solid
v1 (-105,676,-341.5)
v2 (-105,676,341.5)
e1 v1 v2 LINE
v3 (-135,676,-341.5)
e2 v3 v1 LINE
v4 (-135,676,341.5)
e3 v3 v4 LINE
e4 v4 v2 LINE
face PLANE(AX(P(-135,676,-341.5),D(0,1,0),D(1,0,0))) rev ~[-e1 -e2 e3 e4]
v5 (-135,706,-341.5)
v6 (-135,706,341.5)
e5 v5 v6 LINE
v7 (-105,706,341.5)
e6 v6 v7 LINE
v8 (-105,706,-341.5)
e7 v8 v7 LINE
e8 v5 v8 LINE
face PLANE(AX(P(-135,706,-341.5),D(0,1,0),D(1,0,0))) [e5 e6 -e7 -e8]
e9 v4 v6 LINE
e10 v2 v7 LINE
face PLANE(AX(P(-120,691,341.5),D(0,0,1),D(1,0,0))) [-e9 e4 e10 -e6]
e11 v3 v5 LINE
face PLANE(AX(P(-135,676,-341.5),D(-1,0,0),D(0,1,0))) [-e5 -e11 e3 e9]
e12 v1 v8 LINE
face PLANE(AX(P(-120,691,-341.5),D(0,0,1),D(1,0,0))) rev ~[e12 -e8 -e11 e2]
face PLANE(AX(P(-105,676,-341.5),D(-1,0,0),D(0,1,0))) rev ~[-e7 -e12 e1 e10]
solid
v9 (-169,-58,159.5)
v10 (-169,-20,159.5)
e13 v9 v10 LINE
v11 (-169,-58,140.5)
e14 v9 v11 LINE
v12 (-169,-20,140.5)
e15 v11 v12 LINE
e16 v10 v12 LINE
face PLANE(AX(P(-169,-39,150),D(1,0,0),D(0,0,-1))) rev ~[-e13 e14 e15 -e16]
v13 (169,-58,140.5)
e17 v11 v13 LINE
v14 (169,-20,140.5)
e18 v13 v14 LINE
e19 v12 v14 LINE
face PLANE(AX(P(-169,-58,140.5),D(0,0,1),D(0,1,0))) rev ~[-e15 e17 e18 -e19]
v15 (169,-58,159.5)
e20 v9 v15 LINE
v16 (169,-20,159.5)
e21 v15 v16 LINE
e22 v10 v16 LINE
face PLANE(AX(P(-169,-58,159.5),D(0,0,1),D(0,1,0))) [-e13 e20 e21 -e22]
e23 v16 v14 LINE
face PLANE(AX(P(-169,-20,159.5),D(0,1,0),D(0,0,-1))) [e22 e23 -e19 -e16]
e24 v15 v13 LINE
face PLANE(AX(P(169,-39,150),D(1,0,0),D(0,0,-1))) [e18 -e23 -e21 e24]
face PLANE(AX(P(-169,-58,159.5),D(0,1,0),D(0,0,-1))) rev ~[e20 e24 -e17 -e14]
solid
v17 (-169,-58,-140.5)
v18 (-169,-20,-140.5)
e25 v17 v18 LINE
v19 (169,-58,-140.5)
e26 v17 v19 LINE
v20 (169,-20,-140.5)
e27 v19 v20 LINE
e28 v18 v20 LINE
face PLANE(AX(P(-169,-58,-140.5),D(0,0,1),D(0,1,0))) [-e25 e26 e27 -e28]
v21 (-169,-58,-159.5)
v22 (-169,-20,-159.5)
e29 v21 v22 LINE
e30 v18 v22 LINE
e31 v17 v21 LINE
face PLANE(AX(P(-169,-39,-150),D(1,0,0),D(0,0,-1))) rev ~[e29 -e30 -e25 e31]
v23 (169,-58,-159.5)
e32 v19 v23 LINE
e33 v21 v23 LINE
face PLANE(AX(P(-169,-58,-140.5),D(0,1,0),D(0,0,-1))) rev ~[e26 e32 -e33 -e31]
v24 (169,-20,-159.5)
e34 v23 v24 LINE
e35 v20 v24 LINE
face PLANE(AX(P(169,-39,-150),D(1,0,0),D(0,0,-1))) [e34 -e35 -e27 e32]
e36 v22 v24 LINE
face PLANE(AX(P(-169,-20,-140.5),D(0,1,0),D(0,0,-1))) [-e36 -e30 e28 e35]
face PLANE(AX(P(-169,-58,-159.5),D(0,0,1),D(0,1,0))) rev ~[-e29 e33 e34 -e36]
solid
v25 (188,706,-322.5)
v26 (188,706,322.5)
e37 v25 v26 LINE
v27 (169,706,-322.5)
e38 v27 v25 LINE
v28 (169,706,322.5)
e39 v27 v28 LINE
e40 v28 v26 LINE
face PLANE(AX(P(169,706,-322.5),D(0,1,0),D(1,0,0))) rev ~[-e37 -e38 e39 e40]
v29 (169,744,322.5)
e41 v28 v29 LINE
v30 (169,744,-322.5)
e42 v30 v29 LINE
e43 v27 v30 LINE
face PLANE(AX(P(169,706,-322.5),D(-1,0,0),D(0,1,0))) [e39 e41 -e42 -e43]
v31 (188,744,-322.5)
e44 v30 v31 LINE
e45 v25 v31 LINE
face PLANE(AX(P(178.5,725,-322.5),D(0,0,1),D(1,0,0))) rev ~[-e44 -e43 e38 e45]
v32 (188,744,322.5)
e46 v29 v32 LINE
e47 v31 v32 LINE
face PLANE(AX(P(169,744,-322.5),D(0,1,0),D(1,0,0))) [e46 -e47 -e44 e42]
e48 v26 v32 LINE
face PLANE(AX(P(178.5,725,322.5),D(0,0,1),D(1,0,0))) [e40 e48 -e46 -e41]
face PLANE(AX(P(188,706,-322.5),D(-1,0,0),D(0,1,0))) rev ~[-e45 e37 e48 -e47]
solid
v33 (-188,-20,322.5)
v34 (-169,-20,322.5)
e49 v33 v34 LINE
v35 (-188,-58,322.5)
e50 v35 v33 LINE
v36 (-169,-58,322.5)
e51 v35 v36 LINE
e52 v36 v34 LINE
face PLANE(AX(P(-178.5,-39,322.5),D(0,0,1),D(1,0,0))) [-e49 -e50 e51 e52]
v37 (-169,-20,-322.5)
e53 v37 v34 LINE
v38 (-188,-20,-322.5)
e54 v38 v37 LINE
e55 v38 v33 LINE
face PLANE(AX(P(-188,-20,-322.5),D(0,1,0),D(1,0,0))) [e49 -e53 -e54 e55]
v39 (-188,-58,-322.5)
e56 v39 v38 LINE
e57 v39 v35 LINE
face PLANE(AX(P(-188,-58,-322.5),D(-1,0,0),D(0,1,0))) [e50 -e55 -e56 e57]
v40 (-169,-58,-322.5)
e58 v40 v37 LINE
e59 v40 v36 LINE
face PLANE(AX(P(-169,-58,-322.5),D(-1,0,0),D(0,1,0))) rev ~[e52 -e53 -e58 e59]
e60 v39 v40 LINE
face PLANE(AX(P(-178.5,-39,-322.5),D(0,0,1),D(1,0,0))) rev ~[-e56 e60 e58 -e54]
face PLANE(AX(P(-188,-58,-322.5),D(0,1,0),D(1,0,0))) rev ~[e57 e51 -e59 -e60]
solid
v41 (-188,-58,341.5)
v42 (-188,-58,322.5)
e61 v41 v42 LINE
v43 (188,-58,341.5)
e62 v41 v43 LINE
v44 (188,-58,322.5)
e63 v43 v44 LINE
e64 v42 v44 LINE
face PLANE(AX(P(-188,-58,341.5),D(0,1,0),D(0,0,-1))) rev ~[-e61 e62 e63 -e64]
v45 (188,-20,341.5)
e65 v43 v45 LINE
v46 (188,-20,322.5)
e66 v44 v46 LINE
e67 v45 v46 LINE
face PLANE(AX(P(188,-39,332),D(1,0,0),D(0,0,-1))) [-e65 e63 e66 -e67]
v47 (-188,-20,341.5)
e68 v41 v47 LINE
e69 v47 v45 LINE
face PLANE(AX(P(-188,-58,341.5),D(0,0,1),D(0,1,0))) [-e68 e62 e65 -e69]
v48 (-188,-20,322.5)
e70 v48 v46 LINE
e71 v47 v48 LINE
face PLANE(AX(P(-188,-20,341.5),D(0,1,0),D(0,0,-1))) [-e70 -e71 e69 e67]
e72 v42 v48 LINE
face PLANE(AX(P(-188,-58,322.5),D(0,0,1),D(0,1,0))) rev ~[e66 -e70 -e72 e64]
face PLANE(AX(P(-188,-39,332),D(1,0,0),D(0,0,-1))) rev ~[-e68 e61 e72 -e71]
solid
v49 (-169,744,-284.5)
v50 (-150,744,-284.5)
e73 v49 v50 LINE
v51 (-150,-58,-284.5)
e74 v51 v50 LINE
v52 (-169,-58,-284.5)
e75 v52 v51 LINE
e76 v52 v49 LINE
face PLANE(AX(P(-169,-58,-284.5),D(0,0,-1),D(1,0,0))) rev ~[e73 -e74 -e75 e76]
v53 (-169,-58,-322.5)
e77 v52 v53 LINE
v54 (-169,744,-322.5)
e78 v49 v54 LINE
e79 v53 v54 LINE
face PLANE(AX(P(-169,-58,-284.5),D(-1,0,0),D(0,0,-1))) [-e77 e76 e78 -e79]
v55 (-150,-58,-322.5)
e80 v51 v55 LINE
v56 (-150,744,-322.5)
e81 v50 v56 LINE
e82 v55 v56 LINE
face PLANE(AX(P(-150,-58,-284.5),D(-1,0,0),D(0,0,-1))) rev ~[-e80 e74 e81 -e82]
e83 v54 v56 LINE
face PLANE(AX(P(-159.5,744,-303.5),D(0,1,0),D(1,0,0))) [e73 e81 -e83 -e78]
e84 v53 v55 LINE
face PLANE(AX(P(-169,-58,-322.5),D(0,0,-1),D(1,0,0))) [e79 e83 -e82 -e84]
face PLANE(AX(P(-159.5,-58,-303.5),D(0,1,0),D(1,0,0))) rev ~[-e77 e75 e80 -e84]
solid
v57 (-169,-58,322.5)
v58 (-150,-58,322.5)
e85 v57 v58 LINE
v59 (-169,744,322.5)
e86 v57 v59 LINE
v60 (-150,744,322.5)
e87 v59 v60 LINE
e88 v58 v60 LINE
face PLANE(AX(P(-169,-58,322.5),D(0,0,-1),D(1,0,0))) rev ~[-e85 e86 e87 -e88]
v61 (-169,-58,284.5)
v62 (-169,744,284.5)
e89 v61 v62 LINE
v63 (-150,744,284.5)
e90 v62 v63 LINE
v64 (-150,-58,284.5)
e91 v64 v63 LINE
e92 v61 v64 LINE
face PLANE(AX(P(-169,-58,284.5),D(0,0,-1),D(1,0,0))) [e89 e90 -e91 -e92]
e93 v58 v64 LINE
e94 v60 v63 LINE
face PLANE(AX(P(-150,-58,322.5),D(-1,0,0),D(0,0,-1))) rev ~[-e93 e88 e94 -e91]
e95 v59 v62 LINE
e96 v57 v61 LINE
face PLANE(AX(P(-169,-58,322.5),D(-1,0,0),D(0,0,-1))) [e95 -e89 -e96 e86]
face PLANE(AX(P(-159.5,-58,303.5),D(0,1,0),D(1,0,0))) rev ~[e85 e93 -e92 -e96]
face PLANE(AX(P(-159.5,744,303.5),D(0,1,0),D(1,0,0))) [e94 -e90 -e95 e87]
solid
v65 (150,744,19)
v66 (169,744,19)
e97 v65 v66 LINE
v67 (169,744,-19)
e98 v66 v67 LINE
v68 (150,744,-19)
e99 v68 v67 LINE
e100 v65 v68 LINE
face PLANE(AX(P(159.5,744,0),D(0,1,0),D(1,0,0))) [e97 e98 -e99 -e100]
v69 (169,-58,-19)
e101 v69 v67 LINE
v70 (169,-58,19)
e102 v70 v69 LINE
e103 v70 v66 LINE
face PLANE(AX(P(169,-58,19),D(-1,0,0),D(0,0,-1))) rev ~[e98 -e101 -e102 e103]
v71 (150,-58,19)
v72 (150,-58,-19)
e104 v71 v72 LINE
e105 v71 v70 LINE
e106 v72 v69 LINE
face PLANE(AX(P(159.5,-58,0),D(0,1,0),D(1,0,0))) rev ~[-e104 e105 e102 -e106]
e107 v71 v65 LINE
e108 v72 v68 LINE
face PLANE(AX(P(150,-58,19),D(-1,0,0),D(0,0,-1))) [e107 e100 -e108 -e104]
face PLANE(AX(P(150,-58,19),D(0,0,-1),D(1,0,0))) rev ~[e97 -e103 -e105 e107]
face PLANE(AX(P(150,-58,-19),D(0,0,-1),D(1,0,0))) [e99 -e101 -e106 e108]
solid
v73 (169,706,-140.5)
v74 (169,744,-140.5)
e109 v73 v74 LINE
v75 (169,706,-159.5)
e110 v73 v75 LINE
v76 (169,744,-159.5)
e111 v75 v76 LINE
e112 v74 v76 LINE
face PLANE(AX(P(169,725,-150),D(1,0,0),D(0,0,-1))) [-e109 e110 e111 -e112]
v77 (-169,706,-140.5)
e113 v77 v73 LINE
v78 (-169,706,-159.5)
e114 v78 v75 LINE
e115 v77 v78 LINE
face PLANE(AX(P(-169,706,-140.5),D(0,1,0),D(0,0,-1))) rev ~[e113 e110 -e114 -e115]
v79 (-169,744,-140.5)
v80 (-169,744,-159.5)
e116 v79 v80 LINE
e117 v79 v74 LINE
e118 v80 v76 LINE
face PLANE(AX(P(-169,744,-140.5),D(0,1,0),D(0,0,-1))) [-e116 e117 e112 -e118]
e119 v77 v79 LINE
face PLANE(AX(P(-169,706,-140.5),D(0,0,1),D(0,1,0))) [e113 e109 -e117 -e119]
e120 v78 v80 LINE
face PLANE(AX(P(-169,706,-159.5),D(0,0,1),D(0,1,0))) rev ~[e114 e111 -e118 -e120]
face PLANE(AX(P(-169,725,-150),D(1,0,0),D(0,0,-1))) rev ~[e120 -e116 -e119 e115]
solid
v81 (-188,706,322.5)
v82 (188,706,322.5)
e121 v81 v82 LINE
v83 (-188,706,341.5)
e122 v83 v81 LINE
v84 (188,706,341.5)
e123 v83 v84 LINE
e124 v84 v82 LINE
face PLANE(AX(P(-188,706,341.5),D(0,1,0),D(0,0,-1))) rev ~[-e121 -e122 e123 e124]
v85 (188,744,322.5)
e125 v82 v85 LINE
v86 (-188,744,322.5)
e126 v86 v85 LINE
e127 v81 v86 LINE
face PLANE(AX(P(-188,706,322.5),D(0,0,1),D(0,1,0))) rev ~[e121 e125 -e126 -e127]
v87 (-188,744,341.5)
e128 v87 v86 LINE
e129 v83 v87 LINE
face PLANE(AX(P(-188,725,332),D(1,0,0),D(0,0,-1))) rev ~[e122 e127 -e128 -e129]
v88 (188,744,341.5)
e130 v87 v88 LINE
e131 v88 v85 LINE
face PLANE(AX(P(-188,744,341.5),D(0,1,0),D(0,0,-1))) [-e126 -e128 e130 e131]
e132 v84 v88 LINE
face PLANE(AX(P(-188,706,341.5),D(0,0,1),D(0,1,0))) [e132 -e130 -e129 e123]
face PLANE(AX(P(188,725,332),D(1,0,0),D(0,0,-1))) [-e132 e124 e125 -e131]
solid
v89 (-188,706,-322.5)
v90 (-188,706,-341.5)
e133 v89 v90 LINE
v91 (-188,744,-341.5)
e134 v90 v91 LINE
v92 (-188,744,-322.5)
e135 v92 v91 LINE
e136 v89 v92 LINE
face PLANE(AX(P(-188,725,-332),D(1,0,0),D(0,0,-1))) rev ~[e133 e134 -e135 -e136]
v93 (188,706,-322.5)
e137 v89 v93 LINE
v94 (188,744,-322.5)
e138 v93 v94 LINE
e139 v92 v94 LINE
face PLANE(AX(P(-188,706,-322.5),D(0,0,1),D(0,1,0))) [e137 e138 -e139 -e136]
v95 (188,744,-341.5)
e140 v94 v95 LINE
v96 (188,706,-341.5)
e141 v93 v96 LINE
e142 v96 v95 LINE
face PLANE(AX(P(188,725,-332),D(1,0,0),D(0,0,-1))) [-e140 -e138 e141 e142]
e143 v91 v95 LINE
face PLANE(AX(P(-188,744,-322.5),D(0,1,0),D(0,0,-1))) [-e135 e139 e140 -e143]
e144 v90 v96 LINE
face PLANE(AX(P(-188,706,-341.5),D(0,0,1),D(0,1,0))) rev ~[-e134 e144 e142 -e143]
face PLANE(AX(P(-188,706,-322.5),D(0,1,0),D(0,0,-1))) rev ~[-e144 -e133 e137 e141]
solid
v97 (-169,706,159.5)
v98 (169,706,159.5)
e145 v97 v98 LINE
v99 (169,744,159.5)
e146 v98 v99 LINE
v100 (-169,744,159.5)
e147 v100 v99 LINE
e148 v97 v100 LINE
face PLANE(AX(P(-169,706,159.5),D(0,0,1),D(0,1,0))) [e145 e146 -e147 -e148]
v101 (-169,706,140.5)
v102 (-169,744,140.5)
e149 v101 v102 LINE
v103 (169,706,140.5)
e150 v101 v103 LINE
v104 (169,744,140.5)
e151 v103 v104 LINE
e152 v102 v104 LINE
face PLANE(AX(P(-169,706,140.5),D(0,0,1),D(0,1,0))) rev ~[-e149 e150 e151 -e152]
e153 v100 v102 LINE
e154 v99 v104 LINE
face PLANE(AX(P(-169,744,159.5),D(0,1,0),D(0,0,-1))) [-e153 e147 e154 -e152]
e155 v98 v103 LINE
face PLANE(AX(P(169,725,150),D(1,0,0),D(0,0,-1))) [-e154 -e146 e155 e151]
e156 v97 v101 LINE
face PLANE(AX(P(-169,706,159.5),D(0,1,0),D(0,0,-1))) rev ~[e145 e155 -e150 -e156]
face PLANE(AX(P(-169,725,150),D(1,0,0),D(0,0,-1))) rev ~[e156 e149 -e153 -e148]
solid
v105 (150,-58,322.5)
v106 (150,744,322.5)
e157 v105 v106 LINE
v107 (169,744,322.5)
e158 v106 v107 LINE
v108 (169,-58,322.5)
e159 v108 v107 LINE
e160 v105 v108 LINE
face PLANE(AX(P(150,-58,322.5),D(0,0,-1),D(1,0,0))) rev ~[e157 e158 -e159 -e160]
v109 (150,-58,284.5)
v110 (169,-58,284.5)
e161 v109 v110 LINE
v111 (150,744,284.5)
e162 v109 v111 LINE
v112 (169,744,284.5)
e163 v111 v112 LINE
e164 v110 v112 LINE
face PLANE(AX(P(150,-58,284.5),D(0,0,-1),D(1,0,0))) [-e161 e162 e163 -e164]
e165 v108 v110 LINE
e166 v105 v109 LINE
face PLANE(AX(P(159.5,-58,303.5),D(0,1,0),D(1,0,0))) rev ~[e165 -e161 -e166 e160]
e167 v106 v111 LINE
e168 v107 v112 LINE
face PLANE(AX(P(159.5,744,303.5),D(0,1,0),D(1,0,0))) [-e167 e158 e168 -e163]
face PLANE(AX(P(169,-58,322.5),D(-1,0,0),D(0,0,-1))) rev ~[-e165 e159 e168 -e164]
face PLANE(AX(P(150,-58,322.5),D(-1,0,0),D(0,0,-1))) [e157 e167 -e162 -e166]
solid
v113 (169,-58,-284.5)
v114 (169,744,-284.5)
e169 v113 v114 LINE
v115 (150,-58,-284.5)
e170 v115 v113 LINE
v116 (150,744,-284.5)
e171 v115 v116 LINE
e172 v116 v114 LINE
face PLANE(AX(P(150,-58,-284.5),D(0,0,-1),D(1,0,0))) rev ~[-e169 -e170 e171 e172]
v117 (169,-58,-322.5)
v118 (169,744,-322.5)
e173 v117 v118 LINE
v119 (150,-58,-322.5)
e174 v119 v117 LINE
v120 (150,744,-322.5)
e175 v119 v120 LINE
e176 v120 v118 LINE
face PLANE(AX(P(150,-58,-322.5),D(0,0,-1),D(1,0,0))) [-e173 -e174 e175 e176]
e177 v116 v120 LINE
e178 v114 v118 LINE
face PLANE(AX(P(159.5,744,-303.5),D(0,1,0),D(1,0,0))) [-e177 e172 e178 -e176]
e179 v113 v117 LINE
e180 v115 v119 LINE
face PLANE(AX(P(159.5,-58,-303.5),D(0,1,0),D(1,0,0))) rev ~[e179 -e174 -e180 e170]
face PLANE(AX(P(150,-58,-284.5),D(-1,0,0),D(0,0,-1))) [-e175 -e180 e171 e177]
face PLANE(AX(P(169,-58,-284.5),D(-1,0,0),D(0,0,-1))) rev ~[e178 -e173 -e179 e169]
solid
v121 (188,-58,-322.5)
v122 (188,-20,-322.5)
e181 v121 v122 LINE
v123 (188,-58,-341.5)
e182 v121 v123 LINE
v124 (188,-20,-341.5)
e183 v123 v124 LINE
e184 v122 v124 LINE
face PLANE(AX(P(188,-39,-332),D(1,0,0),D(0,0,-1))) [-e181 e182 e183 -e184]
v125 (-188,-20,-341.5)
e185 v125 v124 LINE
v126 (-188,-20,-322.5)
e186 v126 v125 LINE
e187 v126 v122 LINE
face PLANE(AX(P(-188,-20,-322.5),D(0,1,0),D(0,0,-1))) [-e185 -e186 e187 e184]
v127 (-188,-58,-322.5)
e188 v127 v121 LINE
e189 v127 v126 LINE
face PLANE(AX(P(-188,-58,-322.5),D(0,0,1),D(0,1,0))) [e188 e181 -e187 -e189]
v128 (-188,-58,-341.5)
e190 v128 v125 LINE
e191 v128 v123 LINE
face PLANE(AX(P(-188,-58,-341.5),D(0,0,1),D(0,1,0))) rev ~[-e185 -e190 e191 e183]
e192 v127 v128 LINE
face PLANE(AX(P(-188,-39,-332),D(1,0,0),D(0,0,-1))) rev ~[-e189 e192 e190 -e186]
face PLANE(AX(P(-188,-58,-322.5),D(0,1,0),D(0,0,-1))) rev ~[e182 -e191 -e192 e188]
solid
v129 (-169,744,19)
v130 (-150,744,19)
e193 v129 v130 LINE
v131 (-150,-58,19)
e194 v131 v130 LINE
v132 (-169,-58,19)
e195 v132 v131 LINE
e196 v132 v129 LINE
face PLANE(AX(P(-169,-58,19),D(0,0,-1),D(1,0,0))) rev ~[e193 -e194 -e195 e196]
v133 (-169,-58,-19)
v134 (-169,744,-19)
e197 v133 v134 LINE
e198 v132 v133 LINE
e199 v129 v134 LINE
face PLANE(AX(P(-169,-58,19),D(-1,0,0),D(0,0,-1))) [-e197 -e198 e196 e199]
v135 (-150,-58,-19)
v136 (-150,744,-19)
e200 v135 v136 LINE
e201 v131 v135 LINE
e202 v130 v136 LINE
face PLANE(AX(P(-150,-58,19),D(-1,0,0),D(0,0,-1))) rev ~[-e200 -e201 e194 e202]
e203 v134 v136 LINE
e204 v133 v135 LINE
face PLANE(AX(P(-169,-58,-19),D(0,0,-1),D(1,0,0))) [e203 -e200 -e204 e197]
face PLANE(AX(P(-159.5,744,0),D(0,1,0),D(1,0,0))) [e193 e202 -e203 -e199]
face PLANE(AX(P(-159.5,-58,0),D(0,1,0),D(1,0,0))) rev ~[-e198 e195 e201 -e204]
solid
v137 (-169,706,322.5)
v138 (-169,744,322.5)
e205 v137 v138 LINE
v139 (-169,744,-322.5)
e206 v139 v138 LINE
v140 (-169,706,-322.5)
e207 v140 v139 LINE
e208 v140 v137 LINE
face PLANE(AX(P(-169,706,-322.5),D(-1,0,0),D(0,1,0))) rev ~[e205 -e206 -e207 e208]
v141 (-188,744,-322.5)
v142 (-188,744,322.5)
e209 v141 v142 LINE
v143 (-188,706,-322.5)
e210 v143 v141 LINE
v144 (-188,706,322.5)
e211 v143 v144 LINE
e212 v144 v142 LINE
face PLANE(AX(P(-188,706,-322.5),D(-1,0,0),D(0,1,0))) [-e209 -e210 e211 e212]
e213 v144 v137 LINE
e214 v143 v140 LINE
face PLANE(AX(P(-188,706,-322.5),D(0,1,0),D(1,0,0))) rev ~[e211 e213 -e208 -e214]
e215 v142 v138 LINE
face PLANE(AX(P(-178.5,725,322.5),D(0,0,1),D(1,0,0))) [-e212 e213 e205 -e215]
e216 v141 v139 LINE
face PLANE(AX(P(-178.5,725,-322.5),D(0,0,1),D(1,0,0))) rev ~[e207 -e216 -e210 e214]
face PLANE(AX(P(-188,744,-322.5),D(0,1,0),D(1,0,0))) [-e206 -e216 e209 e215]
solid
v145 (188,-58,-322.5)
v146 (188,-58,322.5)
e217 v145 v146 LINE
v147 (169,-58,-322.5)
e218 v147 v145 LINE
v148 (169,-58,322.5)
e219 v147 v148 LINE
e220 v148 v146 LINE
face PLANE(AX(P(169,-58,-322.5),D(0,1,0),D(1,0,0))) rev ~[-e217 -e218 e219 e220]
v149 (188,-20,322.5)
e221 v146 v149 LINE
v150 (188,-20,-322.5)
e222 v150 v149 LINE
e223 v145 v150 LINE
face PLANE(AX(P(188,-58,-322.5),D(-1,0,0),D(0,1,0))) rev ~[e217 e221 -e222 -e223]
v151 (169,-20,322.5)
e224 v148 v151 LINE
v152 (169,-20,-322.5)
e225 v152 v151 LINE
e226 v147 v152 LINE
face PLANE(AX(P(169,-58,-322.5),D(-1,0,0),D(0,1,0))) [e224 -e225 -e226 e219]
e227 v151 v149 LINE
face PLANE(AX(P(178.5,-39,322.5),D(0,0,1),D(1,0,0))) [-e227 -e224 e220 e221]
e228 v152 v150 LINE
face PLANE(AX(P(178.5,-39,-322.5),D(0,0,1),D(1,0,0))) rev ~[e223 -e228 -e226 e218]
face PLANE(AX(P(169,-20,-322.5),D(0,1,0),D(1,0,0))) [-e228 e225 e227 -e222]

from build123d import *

# Parameters (mm, degrees)
EXTRUDE_1_DEPTH        = 322.5
EXTRUDE_1_DEPTH_BACK   = 322.5
SKETCH_6_W             = 19
SKETCH_6_H             = 38
EXTRUDE_1_2_DEPTH      = 322.5
EXTRUDE_1_2_DEPTH_BACK = 322.5
EXTRUDE_1_3_DEPTH      = 322.5
EXTRUDE_1_3_DEPTH_BACK = 322.5
EXTRUDE_1_4_DEPTH      = 322.5
EXTRUDE_1_4_DEPTH_BACK = 322.5
EXTRUDE_2_DEPTH        = 188
EXTRUDE_2_DEPTH_BACK   = 188
SKETCH_8_W             = 19
SKETCH_8_H             = 38
EXTRUDE_2_2_DEPTH      = 188
EXTRUDE_2_2_DEPTH_BACK = 188
EXTRUDE_2_3_DEPTH      = 188
EXTRUDE_2_3_DEPTH_BACK = 188
EXTRUDE_2_4_DEPTH      = 188
EXTRUDE_2_4_DEPTH_BACK = 188
EXTRUDE_START          = -58
SKETCH_9_W             = 19
SKETCH_9_H             = 38
EXTRUDE_2009_DEPTH     = 802
EXTRUDE_2009_2_DEPTH   = 802
EXTRUDE_2009_3_DEPTH   = 802
EXTRUDE_2009_4_DEPTH   = 802
EXTRUDE_2009_5_DEPTH   = 802
EXTRUDE_2009_6_DEPTH   = 802
EXTRUDE_START_2        = -341.5
SKETCH_10_W            = 30
SKETCH_10_H            = 30
EXTRUDE_4_DEPTH        = 683
EXTRUDE_5_DEPTH        = 169
EXTRUDE_5_DEPTH_BACK   = 169
SKETCH_11_W            = 19
SKETCH_11_H            = 38
EXTRUDE_5_2_DEPTH      = 169
EXTRUDE_5_2_DEPTH_BACK = 169
EXTRUDE_5_3_DEPTH      = 169
EXTRUDE_5_3_DEPTH_BACK = 169
EXTRUDE_5_4_DEPTH      = 169
EXTRUDE_5_4_DEPTH_BACK = 169


with BuildPart() as part:
    # ｽｹｯﾁ6 → ﾎﾞｽ - 押し出し1 (new, two sides: drawn at the far end of the back side and taken through both)
    with BuildSketch(Plane.XY.offset(-EXTRUDE_1_DEPTH_BACK)):
        with Locations((-178.5, -39)):
            Rectangle(SKETCH_6_W, SKETCH_6_H)
    extrude(amount=EXTRUDE_1_DEPTH + EXTRUDE_1_DEPTH_BACK)


with BuildPart() as body_2:
    # ｽｹｯﾁ6 → Extrude 1 2 (new, two sides: drawn at the far end of the back side and taken through both)
    with BuildSketch(Plane.XY.offset(-EXTRUDE_1_2_DEPTH_BACK)):
        with Locations((178.5, -39)):
            Rectangle(SKETCH_6_W, SKETCH_6_H)
    extrude(amount=EXTRUDE_1_2_DEPTH + EXTRUDE_1_2_DEPTH_BACK)


with BuildPart() as body_3:
    # ｽｹｯﾁ6 → Extrude 1 3 (new, two sides: drawn at the far end of the back side and taken through both)
    with BuildSketch(Plane.XY.offset(-EXTRUDE_1_3_DEPTH_BACK)):
        with Locations((178.5, 725)):
            Rectangle(SKETCH_6_W, SKETCH_6_H)
    extrude(amount=EXTRUDE_1_3_DEPTH + EXTRUDE_1_3_DEPTH_BACK)


with BuildPart() as body_4:
    # ｽｹｯﾁ6 → Extrude 1 4 (new, two sides: drawn at the far end of the back side and taken through both)
    with BuildSketch(Plane.XY.offset(-EXTRUDE_1_4_DEPTH_BACK)):
        with Locations((-178.5, 725)):
            Rectangle(SKETCH_6_W, SKETCH_6_H)
    extrude(amount=EXTRUDE_1_4_DEPTH + EXTRUDE_1_4_DEPTH_BACK)


with BuildPart() as body_5:
    # ｽｹｯﾁ8 → ﾎﾞｽ - 押し出し2 (new, two sides: drawn at the far end of the back side and taken through both)
    with BuildSketch(Plane(origin=(0, 0, 0), x_dir=(0, 0, -1), z_dir=(1, 0, 0)).offset(-EXTRUDE_2_DEPTH_BACK)):
        with Locations((-332, -39)):
            Rectangle(SKETCH_8_W, SKETCH_8_H)
    extrude(amount=EXTRUDE_2_DEPTH + EXTRUDE_2_DEPTH_BACK)


with BuildPart() as body_6:
    # ｽｹｯﾁ8 → Extrude 2 2 (new, two sides: drawn at the far end of the back side and taken through both)
    with BuildSketch(Plane(origin=(0, 0, 0), x_dir=(0, 0, -1), z_dir=(1, 0, 0)).offset(-EXTRUDE_2_2_DEPTH_BACK)):
        with Locations((-332, 725)):
            Rectangle(SKETCH_8_W, SKETCH_8_H)
    extrude(amount=EXTRUDE_2_2_DEPTH + EXTRUDE_2_2_DEPTH_BACK)


with BuildPart() as body_7:
    # ｽｹｯﾁ8 → Extrude 2 3 (new, two sides: drawn at the far end of the back side and taken through both)
    with BuildSketch(Plane(origin=(0, 0, 0), x_dir=(0, 0, -1), z_dir=(1, 0, 0)).offset(-EXTRUDE_2_3_DEPTH_BACK)):
        with Locations((332, 725)):
            Rectangle(SKETCH_8_W, SKETCH_8_H)
    extrude(amount=EXTRUDE_2_3_DEPTH + EXTRUDE_2_3_DEPTH_BACK)


with BuildPart() as body_8:
    # ｽｹｯﾁ8 → Extrude 2 4 (new, two sides: drawn at the far end of the back side and taken through both)
    with BuildSketch(Plane(origin=(0, 0, 0), x_dir=(0, 0, -1), z_dir=(1, 0, 0)).offset(-EXTRUDE_2_4_DEPTH_BACK)):
        with Locations((332, -39)):
            Rectangle(SKETCH_8_W, SKETCH_8_H)
    extrude(amount=EXTRUDE_2_4_DEPTH + EXTRUDE_2_4_DEPTH_BACK)


with BuildPart() as body_9:
    # ｽｹｯﾁ9 → Extrude 2009 (new body)
    with BuildSketch(Plane(origin=(0, 0, 0), x_dir=(1, 0, 0), z_dir=(0, 1, 0)).offset(EXTRUDE_START)):
        with Locations((-159.5, 303.5)):
            Rectangle(SKETCH_9_W, SKETCH_9_H)
    extrude(amount=EXTRUDE_2009_DEPTH)


with BuildPart() as body_10:
    # ｽｹｯﾁ9 → Extrude 2009 2 (new body)
    with BuildSketch(Plane(origin=(0, 0, 0), x_dir=(1, 0, 0), z_dir=(0, 1, 0)).offset(EXTRUDE_START)):
        with Locations((-159.5, -303.5)):
            Rectangle(SKETCH_9_W, SKETCH_9_H)
    extrude(amount=EXTRUDE_2009_2_DEPTH)


with BuildPart() as body_11:
    # ｽｹｯﾁ9 → Extrude 2009 3 (new body)
    with BuildSketch(Plane(origin=(0, 0, 0), x_dir=(1, 0, 0), z_dir=(0, 1, 0)).offset(EXTRUDE_START)):
        with Locations((159.5, 303.5)):
            Rectangle(SKETCH_9_W, SKETCH_9_H)
    extrude(amount=EXTRUDE_2009_3_DEPTH)


with BuildPart() as body_12:
    # ｽｹｯﾁ9 → Extrude 2009 4 (new body)
    with BuildSketch(Plane(origin=(0, 0, 0), x_dir=(1, 0, 0), z_dir=(0, 1, 0)).offset(EXTRUDE_START)):
        with Locations((159.5, -303.5)):
            Rectangle(SKETCH_9_W, SKETCH_9_H)
    extrude(amount=EXTRUDE_2009_4_DEPTH)


with BuildPart() as body_13:
    # ｽｹｯﾁ9 → Extrude 2009 5 (new body)
    with BuildSketch(Plane(origin=(0, 0, 0), x_dir=(1, 0, 0), z_dir=(0, 1, 0)).offset(EXTRUDE_START)):
        with Locations((-159.5, 0)):
            Rectangle(SKETCH_9_W, SKETCH_9_H)
    extrude(amount=EXTRUDE_2009_5_DEPTH)


with BuildPart() as body_14:
    # ｽｹｯﾁ9 → Extrude 2009 6 (new body)
    with BuildSketch(Plane(origin=(0, 0, 0), x_dir=(1, 0, 0), z_dir=(0, 1, 0)).offset(EXTRUDE_START)):
        with Locations((159.5, 0)):
            Rectangle(SKETCH_9_W, SKETCH_9_H)
    extrude(amount=EXTRUDE_2009_6_DEPTH)


with BuildPart() as body_15:
    # ｽｹｯﾁ10 → ﾎﾞｽ - 押し出し4 (new body)
    with BuildSketch(Plane.XY.offset(EXTRUDE_START_2)):
        with Locations((-120, 691)):
            Rectangle(SKETCH_10_W, SKETCH_10_H)
    extrude(amount=EXTRUDE_4_DEPTH)


with BuildPart() as body_16:
    # ｽｹｯﾁ11 → ﾎﾞｽ - 押し出し5 (new, two sides: drawn at the far end of the back side and taken through both)
    with BuildSketch(Plane(origin=(0, 0, 0), x_dir=(0, 0, -1), z_dir=(1, 0, 0)).offset(-EXTRUDE_5_DEPTH_BACK)):
        with Locations((-150, 725)):
            Rectangle(SKETCH_11_W, SKETCH_11_H)
    extrude(amount=EXTRUDE_5_DEPTH + EXTRUDE_5_DEPTH_BACK)


with BuildPart() as body_17:
    # ｽｹｯﾁ11 → Extrude 5 2 (new, two sides: drawn at the far end of the back side and taken through both)
    with BuildSketch(Plane(origin=(0, 0, 0), x_dir=(0, 0, -1), z_dir=(1, 0, 0)).offset(-EXTRUDE_5_2_DEPTH_BACK)):
        with Locations((-150, -39)):
            Rectangle(SKETCH_11_W, SKETCH_11_H)
    extrude(amount=EXTRUDE_5_2_DEPTH + EXTRUDE_5_2_DEPTH_BACK)


with BuildPart() as body_18:
    # ｽｹｯﾁ11 → Extrude 5 3 (new, two sides: drawn at the far end of the back side and taken through both)
    with BuildSketch(Plane(origin=(0, 0, 0), x_dir=(0, 0, -1), z_dir=(1, 0, 0)).offset(-EXTRUDE_5_3_DEPTH_BACK)):
        with Locations((150, -39)):
            Rectangle(SKETCH_11_W, SKETCH_11_H)
    extrude(amount=EXTRUDE_5_3_DEPTH + EXTRUDE_5_3_DEPTH_BACK)


with BuildPart() as body_19:
    # ｽｹｯﾁ11 → Extrude 5 4 (new, two sides: drawn at the far end of the back side and taken through both)
    with BuildSketch(Plane(origin=(0, 0, 0), x_dir=(0, 0, -1), z_dir=(1, 0, 0)).offset(-EXTRUDE_5_4_DEPTH_BACK)):
        with Locations((150, 725)):
            Rectangle(SKETCH_11_W, SKETCH_11_H)
    extrude(amount=EXTRUDE_5_4_DEPTH + EXTRUDE_5_4_DEPTH_BACK)


solid = Compound([part.part, body_2.part, body_3.part, body_4.part, body_5.part, body_6.part, body_7.part, body_8.part, body_9.part, body_10.part, body_11.part, body_12.part, body_13.part, body_14.part, body_15.part, body_16.part, body_17.part, body_18.part, body_19.part])
